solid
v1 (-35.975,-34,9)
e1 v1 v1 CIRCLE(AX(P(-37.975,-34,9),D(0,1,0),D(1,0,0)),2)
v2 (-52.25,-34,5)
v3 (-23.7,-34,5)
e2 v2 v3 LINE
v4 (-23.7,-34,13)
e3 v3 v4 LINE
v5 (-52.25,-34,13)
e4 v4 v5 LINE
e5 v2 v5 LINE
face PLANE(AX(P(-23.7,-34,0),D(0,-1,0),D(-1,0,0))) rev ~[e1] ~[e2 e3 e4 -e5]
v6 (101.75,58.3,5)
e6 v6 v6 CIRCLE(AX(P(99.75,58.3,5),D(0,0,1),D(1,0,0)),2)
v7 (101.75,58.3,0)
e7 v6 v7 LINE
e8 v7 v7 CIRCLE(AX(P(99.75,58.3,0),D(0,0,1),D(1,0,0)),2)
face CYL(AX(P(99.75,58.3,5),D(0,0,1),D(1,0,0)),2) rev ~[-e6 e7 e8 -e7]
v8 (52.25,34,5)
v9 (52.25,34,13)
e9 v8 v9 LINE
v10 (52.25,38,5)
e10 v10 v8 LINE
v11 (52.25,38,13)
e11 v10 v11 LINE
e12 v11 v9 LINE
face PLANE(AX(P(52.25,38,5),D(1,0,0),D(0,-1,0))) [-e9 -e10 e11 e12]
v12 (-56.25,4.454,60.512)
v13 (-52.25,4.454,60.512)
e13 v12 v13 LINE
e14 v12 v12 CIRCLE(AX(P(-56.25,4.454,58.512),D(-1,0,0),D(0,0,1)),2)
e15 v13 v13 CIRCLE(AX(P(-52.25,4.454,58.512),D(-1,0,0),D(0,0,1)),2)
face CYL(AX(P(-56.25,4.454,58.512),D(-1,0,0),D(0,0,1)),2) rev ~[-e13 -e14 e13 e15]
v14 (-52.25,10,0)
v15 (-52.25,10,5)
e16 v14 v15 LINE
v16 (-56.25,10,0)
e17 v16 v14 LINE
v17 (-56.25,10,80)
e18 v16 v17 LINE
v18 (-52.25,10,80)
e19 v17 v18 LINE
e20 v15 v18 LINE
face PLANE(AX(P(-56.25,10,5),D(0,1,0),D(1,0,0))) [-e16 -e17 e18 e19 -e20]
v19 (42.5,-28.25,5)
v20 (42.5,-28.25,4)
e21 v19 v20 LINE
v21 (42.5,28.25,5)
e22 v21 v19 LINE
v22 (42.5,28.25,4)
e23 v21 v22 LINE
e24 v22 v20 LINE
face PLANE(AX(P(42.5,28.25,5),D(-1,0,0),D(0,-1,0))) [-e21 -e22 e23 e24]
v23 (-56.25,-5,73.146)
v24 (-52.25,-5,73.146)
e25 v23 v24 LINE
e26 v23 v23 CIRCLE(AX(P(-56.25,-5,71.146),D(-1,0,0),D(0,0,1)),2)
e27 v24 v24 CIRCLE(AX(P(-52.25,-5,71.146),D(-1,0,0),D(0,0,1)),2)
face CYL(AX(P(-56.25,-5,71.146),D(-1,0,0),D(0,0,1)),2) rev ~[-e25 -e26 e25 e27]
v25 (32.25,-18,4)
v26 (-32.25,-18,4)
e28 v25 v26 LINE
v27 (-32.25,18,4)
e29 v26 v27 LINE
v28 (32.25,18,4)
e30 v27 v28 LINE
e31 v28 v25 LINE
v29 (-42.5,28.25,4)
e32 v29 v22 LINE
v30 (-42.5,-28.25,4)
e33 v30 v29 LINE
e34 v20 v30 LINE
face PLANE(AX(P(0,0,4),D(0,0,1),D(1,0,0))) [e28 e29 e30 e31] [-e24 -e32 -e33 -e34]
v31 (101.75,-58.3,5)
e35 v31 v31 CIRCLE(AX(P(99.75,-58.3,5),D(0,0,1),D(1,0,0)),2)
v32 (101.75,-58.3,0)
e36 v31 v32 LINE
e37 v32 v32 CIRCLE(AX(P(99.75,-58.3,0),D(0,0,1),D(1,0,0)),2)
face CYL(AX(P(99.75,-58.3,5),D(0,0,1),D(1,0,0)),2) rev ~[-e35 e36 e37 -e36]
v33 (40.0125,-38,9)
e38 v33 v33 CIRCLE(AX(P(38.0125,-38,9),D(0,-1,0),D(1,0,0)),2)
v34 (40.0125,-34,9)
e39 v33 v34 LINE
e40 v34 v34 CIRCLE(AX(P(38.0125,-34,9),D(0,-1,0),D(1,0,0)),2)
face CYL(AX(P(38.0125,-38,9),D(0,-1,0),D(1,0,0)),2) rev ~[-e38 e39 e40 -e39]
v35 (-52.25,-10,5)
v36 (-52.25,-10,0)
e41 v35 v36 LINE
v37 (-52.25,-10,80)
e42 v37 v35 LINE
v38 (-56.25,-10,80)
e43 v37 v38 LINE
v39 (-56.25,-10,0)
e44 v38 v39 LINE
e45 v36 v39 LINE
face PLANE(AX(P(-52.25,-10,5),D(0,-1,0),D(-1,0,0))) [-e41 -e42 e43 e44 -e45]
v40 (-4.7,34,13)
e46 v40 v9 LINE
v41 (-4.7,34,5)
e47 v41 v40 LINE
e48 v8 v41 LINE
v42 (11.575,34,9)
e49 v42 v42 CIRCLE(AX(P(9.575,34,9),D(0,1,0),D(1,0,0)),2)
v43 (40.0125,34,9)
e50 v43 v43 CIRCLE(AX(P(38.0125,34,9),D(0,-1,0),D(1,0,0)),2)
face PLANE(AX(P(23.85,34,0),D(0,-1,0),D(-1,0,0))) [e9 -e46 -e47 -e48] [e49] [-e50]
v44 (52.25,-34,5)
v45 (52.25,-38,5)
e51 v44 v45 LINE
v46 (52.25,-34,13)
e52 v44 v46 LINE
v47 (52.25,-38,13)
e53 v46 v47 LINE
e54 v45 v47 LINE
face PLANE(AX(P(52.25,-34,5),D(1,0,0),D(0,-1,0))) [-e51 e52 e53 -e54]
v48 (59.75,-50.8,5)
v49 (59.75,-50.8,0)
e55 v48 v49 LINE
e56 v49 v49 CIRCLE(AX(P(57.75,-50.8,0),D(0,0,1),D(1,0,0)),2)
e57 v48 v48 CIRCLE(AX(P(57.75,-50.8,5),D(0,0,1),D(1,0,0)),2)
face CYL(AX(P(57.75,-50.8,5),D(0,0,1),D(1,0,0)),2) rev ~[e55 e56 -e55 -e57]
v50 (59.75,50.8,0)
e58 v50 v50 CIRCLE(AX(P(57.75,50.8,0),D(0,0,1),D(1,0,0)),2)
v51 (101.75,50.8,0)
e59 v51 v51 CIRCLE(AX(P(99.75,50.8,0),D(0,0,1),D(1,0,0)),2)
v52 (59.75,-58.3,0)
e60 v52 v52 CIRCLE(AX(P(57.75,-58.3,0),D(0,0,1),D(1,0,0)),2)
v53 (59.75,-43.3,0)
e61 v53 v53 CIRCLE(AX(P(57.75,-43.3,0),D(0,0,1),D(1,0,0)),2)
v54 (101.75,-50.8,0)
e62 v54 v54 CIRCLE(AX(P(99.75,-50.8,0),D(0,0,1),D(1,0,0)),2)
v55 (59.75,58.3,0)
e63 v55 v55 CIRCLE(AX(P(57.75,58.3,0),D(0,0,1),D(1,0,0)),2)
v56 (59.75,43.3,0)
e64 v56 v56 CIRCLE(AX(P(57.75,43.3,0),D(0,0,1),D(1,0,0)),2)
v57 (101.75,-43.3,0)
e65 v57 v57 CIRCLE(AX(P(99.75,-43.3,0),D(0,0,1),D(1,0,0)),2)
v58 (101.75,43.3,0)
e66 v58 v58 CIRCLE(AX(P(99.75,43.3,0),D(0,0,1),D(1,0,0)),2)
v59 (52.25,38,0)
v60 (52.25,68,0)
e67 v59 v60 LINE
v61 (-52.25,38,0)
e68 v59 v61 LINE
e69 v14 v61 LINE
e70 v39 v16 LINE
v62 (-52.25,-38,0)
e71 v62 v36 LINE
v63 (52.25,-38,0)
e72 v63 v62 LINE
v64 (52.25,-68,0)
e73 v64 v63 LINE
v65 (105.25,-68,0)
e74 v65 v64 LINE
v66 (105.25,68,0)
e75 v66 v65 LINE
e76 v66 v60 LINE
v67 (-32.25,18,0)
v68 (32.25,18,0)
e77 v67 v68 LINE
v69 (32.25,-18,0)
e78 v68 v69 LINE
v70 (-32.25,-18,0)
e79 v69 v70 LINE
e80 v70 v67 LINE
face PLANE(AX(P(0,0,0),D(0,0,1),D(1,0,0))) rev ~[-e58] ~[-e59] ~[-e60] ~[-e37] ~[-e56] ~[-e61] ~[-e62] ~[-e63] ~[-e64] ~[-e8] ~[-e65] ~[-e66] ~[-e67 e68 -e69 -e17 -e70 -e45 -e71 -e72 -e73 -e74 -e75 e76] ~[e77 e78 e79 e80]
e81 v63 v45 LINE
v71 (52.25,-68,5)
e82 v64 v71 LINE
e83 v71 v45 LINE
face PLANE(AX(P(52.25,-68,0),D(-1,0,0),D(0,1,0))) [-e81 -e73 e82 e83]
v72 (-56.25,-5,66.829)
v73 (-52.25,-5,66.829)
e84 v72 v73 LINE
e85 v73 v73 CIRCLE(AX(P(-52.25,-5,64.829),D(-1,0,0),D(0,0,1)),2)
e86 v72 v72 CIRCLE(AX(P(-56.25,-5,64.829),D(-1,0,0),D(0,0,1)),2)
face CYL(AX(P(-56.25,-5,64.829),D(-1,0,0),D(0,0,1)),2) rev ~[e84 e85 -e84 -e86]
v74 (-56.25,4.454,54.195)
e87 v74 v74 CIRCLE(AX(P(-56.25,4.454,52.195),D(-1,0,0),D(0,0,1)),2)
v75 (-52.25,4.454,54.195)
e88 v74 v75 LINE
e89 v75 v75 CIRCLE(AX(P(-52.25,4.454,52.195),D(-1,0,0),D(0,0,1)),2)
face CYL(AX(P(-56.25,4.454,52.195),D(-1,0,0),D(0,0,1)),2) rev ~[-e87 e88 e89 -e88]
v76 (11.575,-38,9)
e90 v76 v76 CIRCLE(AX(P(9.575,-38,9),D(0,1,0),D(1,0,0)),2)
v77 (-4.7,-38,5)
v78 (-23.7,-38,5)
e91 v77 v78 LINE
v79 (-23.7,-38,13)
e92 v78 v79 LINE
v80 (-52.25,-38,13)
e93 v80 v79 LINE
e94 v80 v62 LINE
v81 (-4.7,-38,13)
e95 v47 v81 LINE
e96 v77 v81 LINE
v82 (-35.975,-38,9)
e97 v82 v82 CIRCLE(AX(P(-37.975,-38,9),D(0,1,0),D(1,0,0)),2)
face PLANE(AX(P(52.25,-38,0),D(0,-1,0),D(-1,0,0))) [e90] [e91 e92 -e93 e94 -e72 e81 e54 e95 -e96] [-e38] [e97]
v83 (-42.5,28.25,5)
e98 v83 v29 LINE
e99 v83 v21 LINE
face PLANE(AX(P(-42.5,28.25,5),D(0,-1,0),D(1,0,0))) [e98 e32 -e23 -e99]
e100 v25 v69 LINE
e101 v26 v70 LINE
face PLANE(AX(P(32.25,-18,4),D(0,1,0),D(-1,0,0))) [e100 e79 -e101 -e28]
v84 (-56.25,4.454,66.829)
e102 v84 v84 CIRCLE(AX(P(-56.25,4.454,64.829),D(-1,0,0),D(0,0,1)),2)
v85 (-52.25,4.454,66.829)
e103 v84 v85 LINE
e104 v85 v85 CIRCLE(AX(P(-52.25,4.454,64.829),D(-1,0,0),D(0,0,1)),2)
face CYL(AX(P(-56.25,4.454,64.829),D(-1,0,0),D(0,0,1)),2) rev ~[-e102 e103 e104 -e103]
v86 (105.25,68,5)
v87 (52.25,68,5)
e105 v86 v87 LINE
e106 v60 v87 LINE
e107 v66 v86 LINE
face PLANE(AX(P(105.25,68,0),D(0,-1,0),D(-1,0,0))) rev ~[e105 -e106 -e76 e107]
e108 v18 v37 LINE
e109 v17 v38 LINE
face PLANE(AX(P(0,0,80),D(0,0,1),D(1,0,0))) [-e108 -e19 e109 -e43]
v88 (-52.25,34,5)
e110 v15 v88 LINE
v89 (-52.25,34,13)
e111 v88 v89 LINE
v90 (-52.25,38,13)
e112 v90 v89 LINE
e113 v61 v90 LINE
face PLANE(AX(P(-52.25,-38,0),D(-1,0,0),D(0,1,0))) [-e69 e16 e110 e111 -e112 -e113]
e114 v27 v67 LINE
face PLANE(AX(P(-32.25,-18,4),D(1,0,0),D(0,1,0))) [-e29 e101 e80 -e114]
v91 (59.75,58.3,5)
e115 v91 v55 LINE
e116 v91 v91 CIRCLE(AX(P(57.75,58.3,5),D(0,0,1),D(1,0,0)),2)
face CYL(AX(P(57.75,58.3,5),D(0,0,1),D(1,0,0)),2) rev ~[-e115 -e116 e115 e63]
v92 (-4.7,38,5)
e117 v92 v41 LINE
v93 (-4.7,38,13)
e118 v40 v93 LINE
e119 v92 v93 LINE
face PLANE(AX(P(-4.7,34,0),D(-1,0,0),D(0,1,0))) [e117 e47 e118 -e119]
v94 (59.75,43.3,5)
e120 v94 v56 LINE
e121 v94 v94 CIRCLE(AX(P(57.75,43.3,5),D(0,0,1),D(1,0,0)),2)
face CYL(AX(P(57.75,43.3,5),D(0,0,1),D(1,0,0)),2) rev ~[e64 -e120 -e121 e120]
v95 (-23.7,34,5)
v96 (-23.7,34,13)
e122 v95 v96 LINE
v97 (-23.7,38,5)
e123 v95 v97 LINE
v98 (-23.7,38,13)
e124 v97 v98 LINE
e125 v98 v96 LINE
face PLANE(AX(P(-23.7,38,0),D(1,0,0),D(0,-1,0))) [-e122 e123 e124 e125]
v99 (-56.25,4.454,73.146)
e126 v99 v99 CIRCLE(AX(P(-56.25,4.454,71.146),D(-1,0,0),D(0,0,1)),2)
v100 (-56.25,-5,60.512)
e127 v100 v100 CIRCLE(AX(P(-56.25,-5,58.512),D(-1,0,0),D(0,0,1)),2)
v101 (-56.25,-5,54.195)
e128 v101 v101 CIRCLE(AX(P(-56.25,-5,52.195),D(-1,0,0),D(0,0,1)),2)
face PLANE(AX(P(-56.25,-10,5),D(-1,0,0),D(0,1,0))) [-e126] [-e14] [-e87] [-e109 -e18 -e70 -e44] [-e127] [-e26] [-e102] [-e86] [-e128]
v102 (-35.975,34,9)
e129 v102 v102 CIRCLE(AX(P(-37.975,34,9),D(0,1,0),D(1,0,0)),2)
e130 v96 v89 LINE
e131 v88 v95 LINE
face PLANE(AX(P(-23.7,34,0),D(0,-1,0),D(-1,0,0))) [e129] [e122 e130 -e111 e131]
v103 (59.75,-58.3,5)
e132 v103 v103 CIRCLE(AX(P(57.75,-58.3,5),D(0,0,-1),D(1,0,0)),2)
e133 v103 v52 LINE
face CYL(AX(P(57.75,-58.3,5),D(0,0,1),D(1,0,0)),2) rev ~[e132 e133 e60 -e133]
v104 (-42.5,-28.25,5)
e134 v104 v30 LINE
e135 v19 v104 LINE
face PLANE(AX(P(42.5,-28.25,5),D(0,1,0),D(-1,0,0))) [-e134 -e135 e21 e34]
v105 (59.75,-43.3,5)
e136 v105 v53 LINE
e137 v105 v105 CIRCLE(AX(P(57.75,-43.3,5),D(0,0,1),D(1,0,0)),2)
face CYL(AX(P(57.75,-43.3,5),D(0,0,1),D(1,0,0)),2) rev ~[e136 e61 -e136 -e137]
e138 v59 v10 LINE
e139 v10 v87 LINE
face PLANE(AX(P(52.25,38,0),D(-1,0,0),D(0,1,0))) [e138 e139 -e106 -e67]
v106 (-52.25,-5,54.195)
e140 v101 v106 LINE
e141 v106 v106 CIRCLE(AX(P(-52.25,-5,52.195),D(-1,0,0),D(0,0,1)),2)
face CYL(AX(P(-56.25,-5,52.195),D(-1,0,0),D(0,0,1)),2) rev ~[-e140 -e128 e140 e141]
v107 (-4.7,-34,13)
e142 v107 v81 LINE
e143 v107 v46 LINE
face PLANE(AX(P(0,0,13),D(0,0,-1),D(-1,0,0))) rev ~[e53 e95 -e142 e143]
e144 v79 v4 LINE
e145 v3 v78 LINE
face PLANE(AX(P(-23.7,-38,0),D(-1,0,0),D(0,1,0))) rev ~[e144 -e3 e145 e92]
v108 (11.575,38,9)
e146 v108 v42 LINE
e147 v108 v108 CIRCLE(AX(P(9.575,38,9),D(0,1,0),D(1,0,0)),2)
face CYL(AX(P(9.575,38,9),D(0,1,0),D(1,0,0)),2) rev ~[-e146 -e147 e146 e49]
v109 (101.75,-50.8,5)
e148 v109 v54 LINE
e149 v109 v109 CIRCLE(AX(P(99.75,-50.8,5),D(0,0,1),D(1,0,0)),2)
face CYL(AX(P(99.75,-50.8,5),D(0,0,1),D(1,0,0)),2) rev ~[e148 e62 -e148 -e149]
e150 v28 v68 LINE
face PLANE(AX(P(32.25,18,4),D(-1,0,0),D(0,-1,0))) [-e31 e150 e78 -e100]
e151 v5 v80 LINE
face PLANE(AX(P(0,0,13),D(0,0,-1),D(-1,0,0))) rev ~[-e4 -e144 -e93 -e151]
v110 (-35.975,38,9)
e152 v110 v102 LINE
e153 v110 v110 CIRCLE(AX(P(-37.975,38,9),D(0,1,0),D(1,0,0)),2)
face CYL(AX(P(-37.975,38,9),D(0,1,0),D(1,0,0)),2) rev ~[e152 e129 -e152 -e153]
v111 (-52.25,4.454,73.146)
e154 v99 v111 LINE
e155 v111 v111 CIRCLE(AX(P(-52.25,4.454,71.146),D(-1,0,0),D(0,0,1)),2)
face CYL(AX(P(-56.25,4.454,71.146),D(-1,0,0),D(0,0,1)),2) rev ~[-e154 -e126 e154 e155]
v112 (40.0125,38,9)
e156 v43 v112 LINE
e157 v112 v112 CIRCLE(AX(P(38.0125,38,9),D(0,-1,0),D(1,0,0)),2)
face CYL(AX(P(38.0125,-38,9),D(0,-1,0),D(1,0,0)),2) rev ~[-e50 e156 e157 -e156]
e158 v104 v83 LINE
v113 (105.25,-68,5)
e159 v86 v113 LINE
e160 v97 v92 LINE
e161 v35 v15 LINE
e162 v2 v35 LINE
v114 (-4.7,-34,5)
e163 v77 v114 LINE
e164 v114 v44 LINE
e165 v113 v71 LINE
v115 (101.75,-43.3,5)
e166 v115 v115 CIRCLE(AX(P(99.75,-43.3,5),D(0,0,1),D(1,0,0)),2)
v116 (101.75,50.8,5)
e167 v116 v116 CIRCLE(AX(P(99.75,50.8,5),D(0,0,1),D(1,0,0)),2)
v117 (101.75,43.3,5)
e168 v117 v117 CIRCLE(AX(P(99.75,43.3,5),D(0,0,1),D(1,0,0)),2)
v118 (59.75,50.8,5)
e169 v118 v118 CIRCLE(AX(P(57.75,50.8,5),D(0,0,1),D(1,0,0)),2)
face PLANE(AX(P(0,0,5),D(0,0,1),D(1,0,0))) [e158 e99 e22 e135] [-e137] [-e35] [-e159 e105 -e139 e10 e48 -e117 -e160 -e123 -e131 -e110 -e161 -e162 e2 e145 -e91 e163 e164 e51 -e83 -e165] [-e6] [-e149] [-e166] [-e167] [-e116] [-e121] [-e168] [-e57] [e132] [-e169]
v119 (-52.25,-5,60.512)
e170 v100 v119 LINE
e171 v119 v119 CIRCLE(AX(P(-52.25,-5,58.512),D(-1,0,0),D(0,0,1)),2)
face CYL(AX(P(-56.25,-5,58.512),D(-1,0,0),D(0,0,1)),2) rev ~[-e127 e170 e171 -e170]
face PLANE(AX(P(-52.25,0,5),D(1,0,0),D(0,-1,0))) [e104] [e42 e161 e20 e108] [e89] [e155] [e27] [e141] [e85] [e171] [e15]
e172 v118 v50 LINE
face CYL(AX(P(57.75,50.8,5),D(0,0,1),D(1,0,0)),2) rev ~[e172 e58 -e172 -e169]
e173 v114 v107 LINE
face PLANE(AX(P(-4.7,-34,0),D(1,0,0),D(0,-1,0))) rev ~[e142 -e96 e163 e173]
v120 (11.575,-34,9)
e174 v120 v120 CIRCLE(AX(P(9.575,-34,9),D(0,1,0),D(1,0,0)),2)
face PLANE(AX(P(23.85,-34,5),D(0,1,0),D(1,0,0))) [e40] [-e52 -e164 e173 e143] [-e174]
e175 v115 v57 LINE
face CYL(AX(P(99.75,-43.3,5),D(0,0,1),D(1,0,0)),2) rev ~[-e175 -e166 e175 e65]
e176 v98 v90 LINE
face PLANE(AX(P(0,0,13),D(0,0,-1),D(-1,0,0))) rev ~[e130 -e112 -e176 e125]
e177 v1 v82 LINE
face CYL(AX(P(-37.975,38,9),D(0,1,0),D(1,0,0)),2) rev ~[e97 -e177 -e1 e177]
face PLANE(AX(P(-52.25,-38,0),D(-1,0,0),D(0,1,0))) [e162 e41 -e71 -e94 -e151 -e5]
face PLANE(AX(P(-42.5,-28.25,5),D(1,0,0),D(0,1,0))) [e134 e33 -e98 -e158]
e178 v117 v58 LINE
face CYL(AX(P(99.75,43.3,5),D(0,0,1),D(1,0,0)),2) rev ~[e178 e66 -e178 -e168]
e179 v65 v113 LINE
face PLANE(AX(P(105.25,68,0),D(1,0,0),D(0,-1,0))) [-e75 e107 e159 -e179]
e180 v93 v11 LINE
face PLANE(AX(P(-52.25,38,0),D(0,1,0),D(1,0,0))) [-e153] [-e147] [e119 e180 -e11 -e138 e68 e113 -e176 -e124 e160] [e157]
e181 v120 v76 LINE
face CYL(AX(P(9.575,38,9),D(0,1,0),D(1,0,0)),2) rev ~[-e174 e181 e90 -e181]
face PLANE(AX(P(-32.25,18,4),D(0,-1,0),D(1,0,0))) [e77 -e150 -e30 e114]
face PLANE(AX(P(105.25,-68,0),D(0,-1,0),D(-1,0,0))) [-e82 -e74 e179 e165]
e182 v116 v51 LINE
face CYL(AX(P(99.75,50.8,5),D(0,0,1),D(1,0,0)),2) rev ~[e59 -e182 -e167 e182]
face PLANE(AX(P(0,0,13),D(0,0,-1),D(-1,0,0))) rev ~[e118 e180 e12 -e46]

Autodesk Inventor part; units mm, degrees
ref_plane "YZ Plane" through (0, 0, 0) normal (1, 0, 0) x (0, 1, 0)
ref_plane "XZ Plane" through (0, 0, 0) normal (0, 1, 0) x (-1, 0, 0)
ref_plane "XY Plane" through (0, 0, 0) normal (0, 0, 1) x (1, 0, 0)
sketch "Эскиз1" plane through (0, 0, 0) normal (0, 0, 1) x (1, 0, 0)
  line L0 (-42.5, -28.25) -> (42.5, -28.25) construction
  line L1 (42.5, -28.25) -> (42.5, 28.25) construction
  line L2 (42.5, 28.25) -> (-42.5, 28.25) construction
  line L3 (-42.5, 28.25) -> (-42.5, -28.25) construction
  line L4 (-52.25, 38) -> (52.25, 38)
  line L5 (52.25, 38) -> (52.25, -38)
  line L6 (52.25, -38) -> (-52.25, -38)
  line L7 (-52.25, -38) -> (-52.25, 38)
  line L8 (52.25, 38) -> (52.25, 68) construction
  line L9 (52.25, 68) -> (105.25, 68) construction
  line L10 (105.25, 68) -> (105.25, 0) construction
  line L11 (105.25, 0) -> (105.25, -68) construction
  line L12 (105.25, -68) -> (52.25, -68) construction
  line L13 (52.25, -68) -> (52.25, 0) construction
  line L14 (52.25, 38) -> (52.25, 68)
  line L15 (105.25, 68) -> (52.25, 68)
  line L16 (105.25, 68) -> (105.25, -68)
  line L17 (105.25, -68) -> (52.25, -68)
  line L18 (52.25, -68) -> (52.25, 0)
  line L19 (-42.5, -28.25) -> (42.5, -28.25)
  line L20 (42.5, 28.25) -> (42.5, -28.25)
  line L21 (-42.5, -28.25) -> (-42.5, 28.25)
  line L22 (42.5, 28.25) -> (-42.5, 28.25)
  dimension "d0" = 85
  dimension "d1" = 56.5
  dimension "d2" = 9.75
  dimension "d3" = 68
  dimension "d4" = 53
  dimension "d5" = 68
extrude "Выдавливание1" add sketch "Эскиз1" along normal blind 5 contours L4 L5 L6 L7 | L14 L15 L16 L17 L18 L5 | L21 L22 L20 L19
sketch "Эскиз4" plane through (0, 0, 5) normal (0, 0, 1) x (1, 0, 0)
  line L0 (-42.5, -28.25) -> (42.5, -28.25) construction
  line L1 (-42.5, -28.25) -> (-42.5, 28.25) projected
  line L2 (42.5, 28.25) -> (-42.5, 28.25) construction
  line L3 (-42.5, 28.25) -> (42.5, 28.25)
  line L4 (42.5, 28.25) -> (42.5, -28.25)
  line L5 (42.5, -28.25) -> (-42.5, -28.25)
  line L6 (-42.5, -28.25) -> (-42.5, 28.25)
  point P0 (0, 0)
extrude "Выдавливание3" cut sketch "Эскиз4" against normal blind 1
sketch "Эскиз5" plane through (0, 0, 4) normal (0, 0, 1) x (1, 0, 0)
  line L0 (42.5, 28.25) -> (42.5, -28.25) projected
  line L1 (-42.5, 28.25) -> (42.5, 28.25) projected
  line L2 (-42.5, -28.25) -> (-42.5, 28.25) projected
  line L3 (42.5, -28.25) -> (-42.5, -28.25) projected
  line L4 (32.25, 18) -> (32.25, -18)
  line L5 (32.25, -18) -> (-32.25, -18)
  line L6 (-32.25, -18) -> (-32.25, 18)
  line L7 (-32.25, 18) -> (32.25, 18)
  point P0 (0, 0)
  dimension "d12" = 10.25
extrude "Выдавливание4" cut sketch "Эскиз5" against normal blind 8 contours L4 L5 L6 L7
sketch "Эскиз6" plane through (0, 0, 5) normal (0, 0, 1) x (1, 0, 0)
  line L0 (-33.05, 26.6205) -> (33.05, 26.6205) construction
  line L1 (33.05, 26.6205) -> (33.05, -26.6205) construction
  line L2 (33.05, -26.6205) -> (-33.05, -26.6205) construction
  line L3 (-33.05, -26.6205) -> (-33.05, 26.6205) construction
  line L4 (-33.05, 26.6205) -> (33.05, -26.6205) construction
  line L5 (33.05, 26.6205) -> (-33.05, -26.6205) construction
  point P0 (0, 0)
  dimension "d15" = 66.1
  dimension "d16" = 53.241
sketch "Эскиз7" plane through (0, 0, 5) normal (0, 0, 1) x (1, 0, 0)
  line L0 (-52.25, 38) -> (-52.25, -38) construction
  line L1 (-52.25, 0) -> (-56.25, 0)
  line L2 (-56.25, 10) -> (-52.25, 10)
  line L3 (-52.25, 10) -> (-52.25, -10)
  line L4 (-52.25, -10) -> (-56.25, -10)
  line L5 (-56.25, -10) -> (-56.25, 10)
  line L6 (-56.25, 10) -> (-52.25, -10) construction
  line L7 (-52.25, 10) -> (-56.25, -10) construction
  point P0 (0, 0)
  point P1 (-54.25, 0)
  dimension "d17" = 4
  dimension "d18" = 20
extrude "Выдавливание5" add sketch "Эскиз7" along normal blind 75 and the other way blind 5
sketch "Эскиз8" plane through (-56.25, -10, 80) normal (-1, 0, 0) x (0, 0, 1)
  line L0 (0, 0) -> (-80, 0) projected
  line L1 (0, 20) -> (0, 0) projected
  line L2 (-80, 20) -> (0, 20) projected
  line L3 (-80, 0) -> (-80, 20) projected
  line L4 (-80, 0) -> (-33.989, 0) construction
  line L5 (0, 0) -> (-80, 0) construction
  line L6 (-33.989, 0) -> (-33.989, 20) construction
  line L7 (0, 20) -> (-75, 20) construction
  line L8 (-33.989, 20) -> (-27.805, 20) construction
  line L9 (-27.805, 20) -> (-27.805, 14.454) construction
  circle A0 centre (-27.805, 14.454) radius 2
  line L10 (-27.805, 14.454) -> (-21.488, 14.454) construction
  line L11 (-27.805, 14.454) -> (-27.805, 5) construction
  circle A1 centre (-27.805, 5) radius 2
  circle A2 centre (-21.488, 14.454) radius 2
  circle A3 centre (-21.488, 5) radius 2
  circle A4 centre (-15.171, 14.454) radius 2
  circle A5 centre (-15.171, 5) radius 2
  circle A6 centre (-8.854, 14.454) radius 2
  circle A7 centre (-8.854, 5) radius 2
  point P0 (-80, 10)
  dimension "d23" = 46.011
  dimension "d24" = 6.184
  dimension "d25" = 5.546
  dimension "d26" = 4
  dimension "d27" = 6.317
  dimension "d28" = 9.454
  dimension "d29" = 4
  dimension "d32" = 6.317
extrude "Выдавливание6" cut sketch "Эскиз8" against normal blind 75 contours A0 | A1 | A2 | A3 | A4 | A5 | A6 | A7
sketch "Эскиз9" plane through (0, 0, 0) normal (0, 0, -1) x (-1, 0, 0)
  line L0 (-32.25, 18) -> (32.25, 18) projected
  line L1 (32.25, 18) -> (32.25, -18) projected
  line L2 (32.25, -18) -> (-32.25, -18) projected
  line L3 (-32.25, -18) -> (-32.25, 18) projected
  line L4 (-52.25, 68) -> (-52.25, 38) projected
  line L5 (-105.25, 68) -> (-52.25, 68) projected
  line L6 (-105.25, -68) -> (-105.25, 68) projected
  line L7 (-52.25, -68) -> (-105.25, -68) projected
  line L8 (-52.25, -38) -> (-52.25, -68) projected
  line L9 (52.25, -38) -> (-52.25, -38) projected
  line L10 (52.25, -10) -> (52.25, -38) projected
  line L11 (52.25, -10) -> (56.25, -10) projected
  line L12 (56.25, -10) -> (56.25, 10) projected
  line L13 (56.25, 10) -> (52.25, 10) projected
  line L14 (52.25, 38) -> (52.25, 10) projected
  line L15 (-52.25, 38) -> (52.25, 38) projected
  line L16 (52.25, -38) -> (52.25, -42) construction
  line L17 (52.25, -38) -> (-52.25, -38) projected
  line L18 (52.25, -38) -> (23.7, -38)
  line L19 (4.7, -38) -> (-23.85, -38)
  line L20 (56.25, 0) -> (0, 0) construction
  line L21 (52.25, 38) -> (-52.25, 38)
  line L22 (52.25, 38) -> (52.25, 42) construction
  line L23 (4.7, 38) -> (-23.85, 38)
  line L24 (23.7, 34) -> (52.25, 34)
  line L25 (23.7, 38) -> (23.7, 34)
  line L26 (52.25, 38) -> (52.25, 34) construction
  line L27 (52.25, 34) -> (52.25, 38)
  line L28 (4.7, 34) -> (4.7, 38)
  line L29 (-23.85, 34) -> (4.7, 34)
  line L30 (-23.85, 38) -> (-23.85, 34)
  line L31 (52.25, -38) -> (52.25, -34) construction
  line L32 (23.7, -38) -> (23.7, -34)
  line L33 (23.7, -34) -> (52.25, -34)
  line L34 (52.25, -34) -> (52.25, -38)
  line L35 (-23.85, -38) -> (-23.85, -34)
  line L36 (-23.85, -34) -> (4.7, -34)
  line L37 (4.7, -34) -> (4.7, -38)
  line L38 (52.25, 34) -> (23.7, 34)
  line L39 (23.7, 34) -> (23.7, 38)
  line L40 (23.7, 38) -> (52.25, 38)
  line L41 (52.25, 38) -> (52.25, 34)
  line L42 (4.7, 34) -> (-23.85, 34)
  line L43 (-23.85, 34) -> (-23.85, 38)
  line L44 (-23.85, 38) -> (4.7, 38)
  line L45 (4.7, 38) -> (4.7, 34)
  dimension "d39" = 4
extrude "Выдавливание7" add sketch "Эскиз9" against normal blind 13 contours L15 L28 L29 L30 | L15 L14 L24 L25 | L35 L36 L37 L9 | L32 L33 L10 L9
sketch "Эскиз10" plane through (-52.25, 38, 0) normal (0, 1, 0) x (1, 0, 0)
  line L0 (47.55, -5) -> (28.55, -5) construction
  line L1 (28.55, -5) -> (0, -5) construction
  line L2 (0, 0) -> (0, -13) construction
  line L3 (0, -5) -> (0, -13) construction
  line L4 (0, -13) -> (0, -5) construction
  circle A0 centre (14.275, -9) radius 2
  line L5 (38.05, -7) -> (38.05, -12) construction
  circle A1 centre (61.825, -9) radius 2
  point P0 (52.25, 0)
  dimension "d45" = 4
extrude "Выдавливание8" cut sketch "Эскиз10" against normal up to surface (76 mm away)
sketch "Эскиз11" plane through (0, 0, 5) normal (0, 0, 1) x (1, 0, 0)
  line L0 (-42.5, 28.25) -> (42.5, 28.25) projected
  line L1 (42.5, 28.25) -> (42.5, -28.25) projected
  line L2 (42.5, -28.25) -> (-42.5, -28.25) projected
  line L3 (-42.5, -28.25) -> (-42.5, 28.25) projected
  line L4 (-23.7, 38) -> (-23.7, 34) projected
  line L5 (-23.7, 34) -> (-52.25, 34) projected
  line L6 (-52.25, 34) -> (-52.25, 10) projected
  line L7 (-52.25, 10) -> (-52.25, -10) projected
  line L8 (-52.25, -10) -> (-52.25, -34) projected
  line L9 (-52.25, -34) -> (-23.7, -34) projected
  line L10 (-23.7, -34) -> (-23.7, -38) projected
  line L11 (-23.7, -38) -> (-4.7, -38) projected
  line L12 (-4.7, -38) -> (-4.7, -34) projected
  line L13 (-4.7, -34) -> (23.85, -34) projected
  line L14 (23.85, -34) -> (23.85, -38) projected
  line L15 (23.85, -38) -> (52.25, -38) projected
  line L16 (52.25, -38) -> (52.25, -68) projected
  line L17 (52.25, -68) -> (105.25, -68) projected
  line L18 (105.25, -68) -> (105.25, 68) projected
  line L19 (105.25, 68) -> (52.25, 68) projected
  line L20 (52.25, 68) -> (52.25, 38) projected
  line L21 (52.25, 38) -> (23.85, 38) projected
  line L22 (23.85, 38) -> (23.85, 34) projected
  line L23 (23.85, 34) -> (-4.7, 34) projected
  line L24 (-4.7, 34) -> (-4.7, 38) projected
  line L25 (-4.7, 38) -> (-23.7, 38) projected
  line L26 (52.25, -38) -> (52.25, -68) projected
  line L27 (52.25, -68) -> (57.75, -68)
  line L28 (52.25, -68) -> (105.25, -68) projected
  line L29 (57.75, -68) -> (57.75, -38) construction
  line L30 (23.85, -38) -> (52.25, -38) projected
  line L31 (57.75, -38) -> (52.25, -38) construction
  line L32 (57.75, -68) -> (57.75, -58.3)
  circle A0 centre (57.75, -58.3) radius 2
  line L33 (57.75, -58.3) -> (57.75, -50.8) construction
  circle A1 centre (57.75, -50.8) radius 2
  circle A2 centre (57.75, -43.3) radius 2
  line L34 (52.25, -68) -> (105.25, -68) construction
  line L35 (78.75, -68) -> (78.75, -28.25) construction
  circle A3 centre (99.75, -58.3) radius 2
  circle A4 centre (99.75, -50.8) radius 2
  circle A5 centre (99.75, -43.3) radius 2
  line L36 (105.25, -68) -> (105.25, 68) construction
  line L37 (105.25, 0) -> (77, 0) construction
  circle A6 centre (57.75, 58.3) radius 2
  circle A7 centre (57.75, 50.8) radius 2
  circle A8 centre (57.75, 43.3) radius 2
  circle A9 centre (99.75, 58.3) radius 2
  circle A10 centre (99.75, 50.8) radius 2
  circle A11 centre (99.75, 43.3) radius 2
  point P0 (0, 0)
  dimension "d48" = 5.5
  dimension "d49" = 9.7
  dimension "d50" = 4
  dimension "d51" = 7.5
  dimension "d54" = 7.5
extrude "Выдавливание9" cut sketch "Эскиз11" against normal blind 10 contours A0 | A1 | A2 | A3 | A4 | A5 | A6 | A7 | A8 | A9 | A10 | A11
ref_plane "РабПлоскость1" through (23.85, 34, 13) normal (1, 0, 0) x (0, -1, 0)
sketch "Эскиз12" plane through (0, 0, 5) normal (0, 0, 1) x (1, 0, 0)
  line L0 (23.85, -34) -> (23.85, -38) projected
  line L1 (52.25, -38) -> (52.25, -68) projected
  line L2 (23.85, -34) -> (52.25, -34)
  line L3 (52.25, -34) -> (52.25, -38)
  line L4 (52.25, -38) -> (23.85, -38)
  line L5 (23.85, -38) -> (23.85, -34)
  line L6 (23.85, 34) -> (23.85, 38) projected
  line L7 (23.85, 38) -> (52.25, 38)
  line L8 (52.25, 38) -> (52.25, 34)
  line L9 (52.25, 34) -> (23.85, 34)
  line L10 (23.85, 34) -> (23.85, 38)
  point P0 (0, 0)
extrude "Выдавливание10" add sketch "Эскиз12" along normal up to surface (8 mm away)
sketch "Эскиз13" plane through (-52.25, -38, 0) normal (0, -1, 0) x (1, 0, 0)
  line L0 (47.55, 13) -> (104.5, 13) projected
  line L1 (76.025, 13) -> (76.025, 5)
  line L2 (9.75, 5) -> (94.75, 5) projected
  line L3 (157.5, 5) -> (104.5, 5) projected
  line L4 (76.025, 5) -> (104.5, 5)
  circle A0 centre (90.2625, 9) radius 2
  point P0 (52.25, 0)
  dimension "d63" = 4
extrude "Выдавливание11" cut sketch "Эскиз13" against normal up to surface (76 mm away)
properties part number "LIner"
